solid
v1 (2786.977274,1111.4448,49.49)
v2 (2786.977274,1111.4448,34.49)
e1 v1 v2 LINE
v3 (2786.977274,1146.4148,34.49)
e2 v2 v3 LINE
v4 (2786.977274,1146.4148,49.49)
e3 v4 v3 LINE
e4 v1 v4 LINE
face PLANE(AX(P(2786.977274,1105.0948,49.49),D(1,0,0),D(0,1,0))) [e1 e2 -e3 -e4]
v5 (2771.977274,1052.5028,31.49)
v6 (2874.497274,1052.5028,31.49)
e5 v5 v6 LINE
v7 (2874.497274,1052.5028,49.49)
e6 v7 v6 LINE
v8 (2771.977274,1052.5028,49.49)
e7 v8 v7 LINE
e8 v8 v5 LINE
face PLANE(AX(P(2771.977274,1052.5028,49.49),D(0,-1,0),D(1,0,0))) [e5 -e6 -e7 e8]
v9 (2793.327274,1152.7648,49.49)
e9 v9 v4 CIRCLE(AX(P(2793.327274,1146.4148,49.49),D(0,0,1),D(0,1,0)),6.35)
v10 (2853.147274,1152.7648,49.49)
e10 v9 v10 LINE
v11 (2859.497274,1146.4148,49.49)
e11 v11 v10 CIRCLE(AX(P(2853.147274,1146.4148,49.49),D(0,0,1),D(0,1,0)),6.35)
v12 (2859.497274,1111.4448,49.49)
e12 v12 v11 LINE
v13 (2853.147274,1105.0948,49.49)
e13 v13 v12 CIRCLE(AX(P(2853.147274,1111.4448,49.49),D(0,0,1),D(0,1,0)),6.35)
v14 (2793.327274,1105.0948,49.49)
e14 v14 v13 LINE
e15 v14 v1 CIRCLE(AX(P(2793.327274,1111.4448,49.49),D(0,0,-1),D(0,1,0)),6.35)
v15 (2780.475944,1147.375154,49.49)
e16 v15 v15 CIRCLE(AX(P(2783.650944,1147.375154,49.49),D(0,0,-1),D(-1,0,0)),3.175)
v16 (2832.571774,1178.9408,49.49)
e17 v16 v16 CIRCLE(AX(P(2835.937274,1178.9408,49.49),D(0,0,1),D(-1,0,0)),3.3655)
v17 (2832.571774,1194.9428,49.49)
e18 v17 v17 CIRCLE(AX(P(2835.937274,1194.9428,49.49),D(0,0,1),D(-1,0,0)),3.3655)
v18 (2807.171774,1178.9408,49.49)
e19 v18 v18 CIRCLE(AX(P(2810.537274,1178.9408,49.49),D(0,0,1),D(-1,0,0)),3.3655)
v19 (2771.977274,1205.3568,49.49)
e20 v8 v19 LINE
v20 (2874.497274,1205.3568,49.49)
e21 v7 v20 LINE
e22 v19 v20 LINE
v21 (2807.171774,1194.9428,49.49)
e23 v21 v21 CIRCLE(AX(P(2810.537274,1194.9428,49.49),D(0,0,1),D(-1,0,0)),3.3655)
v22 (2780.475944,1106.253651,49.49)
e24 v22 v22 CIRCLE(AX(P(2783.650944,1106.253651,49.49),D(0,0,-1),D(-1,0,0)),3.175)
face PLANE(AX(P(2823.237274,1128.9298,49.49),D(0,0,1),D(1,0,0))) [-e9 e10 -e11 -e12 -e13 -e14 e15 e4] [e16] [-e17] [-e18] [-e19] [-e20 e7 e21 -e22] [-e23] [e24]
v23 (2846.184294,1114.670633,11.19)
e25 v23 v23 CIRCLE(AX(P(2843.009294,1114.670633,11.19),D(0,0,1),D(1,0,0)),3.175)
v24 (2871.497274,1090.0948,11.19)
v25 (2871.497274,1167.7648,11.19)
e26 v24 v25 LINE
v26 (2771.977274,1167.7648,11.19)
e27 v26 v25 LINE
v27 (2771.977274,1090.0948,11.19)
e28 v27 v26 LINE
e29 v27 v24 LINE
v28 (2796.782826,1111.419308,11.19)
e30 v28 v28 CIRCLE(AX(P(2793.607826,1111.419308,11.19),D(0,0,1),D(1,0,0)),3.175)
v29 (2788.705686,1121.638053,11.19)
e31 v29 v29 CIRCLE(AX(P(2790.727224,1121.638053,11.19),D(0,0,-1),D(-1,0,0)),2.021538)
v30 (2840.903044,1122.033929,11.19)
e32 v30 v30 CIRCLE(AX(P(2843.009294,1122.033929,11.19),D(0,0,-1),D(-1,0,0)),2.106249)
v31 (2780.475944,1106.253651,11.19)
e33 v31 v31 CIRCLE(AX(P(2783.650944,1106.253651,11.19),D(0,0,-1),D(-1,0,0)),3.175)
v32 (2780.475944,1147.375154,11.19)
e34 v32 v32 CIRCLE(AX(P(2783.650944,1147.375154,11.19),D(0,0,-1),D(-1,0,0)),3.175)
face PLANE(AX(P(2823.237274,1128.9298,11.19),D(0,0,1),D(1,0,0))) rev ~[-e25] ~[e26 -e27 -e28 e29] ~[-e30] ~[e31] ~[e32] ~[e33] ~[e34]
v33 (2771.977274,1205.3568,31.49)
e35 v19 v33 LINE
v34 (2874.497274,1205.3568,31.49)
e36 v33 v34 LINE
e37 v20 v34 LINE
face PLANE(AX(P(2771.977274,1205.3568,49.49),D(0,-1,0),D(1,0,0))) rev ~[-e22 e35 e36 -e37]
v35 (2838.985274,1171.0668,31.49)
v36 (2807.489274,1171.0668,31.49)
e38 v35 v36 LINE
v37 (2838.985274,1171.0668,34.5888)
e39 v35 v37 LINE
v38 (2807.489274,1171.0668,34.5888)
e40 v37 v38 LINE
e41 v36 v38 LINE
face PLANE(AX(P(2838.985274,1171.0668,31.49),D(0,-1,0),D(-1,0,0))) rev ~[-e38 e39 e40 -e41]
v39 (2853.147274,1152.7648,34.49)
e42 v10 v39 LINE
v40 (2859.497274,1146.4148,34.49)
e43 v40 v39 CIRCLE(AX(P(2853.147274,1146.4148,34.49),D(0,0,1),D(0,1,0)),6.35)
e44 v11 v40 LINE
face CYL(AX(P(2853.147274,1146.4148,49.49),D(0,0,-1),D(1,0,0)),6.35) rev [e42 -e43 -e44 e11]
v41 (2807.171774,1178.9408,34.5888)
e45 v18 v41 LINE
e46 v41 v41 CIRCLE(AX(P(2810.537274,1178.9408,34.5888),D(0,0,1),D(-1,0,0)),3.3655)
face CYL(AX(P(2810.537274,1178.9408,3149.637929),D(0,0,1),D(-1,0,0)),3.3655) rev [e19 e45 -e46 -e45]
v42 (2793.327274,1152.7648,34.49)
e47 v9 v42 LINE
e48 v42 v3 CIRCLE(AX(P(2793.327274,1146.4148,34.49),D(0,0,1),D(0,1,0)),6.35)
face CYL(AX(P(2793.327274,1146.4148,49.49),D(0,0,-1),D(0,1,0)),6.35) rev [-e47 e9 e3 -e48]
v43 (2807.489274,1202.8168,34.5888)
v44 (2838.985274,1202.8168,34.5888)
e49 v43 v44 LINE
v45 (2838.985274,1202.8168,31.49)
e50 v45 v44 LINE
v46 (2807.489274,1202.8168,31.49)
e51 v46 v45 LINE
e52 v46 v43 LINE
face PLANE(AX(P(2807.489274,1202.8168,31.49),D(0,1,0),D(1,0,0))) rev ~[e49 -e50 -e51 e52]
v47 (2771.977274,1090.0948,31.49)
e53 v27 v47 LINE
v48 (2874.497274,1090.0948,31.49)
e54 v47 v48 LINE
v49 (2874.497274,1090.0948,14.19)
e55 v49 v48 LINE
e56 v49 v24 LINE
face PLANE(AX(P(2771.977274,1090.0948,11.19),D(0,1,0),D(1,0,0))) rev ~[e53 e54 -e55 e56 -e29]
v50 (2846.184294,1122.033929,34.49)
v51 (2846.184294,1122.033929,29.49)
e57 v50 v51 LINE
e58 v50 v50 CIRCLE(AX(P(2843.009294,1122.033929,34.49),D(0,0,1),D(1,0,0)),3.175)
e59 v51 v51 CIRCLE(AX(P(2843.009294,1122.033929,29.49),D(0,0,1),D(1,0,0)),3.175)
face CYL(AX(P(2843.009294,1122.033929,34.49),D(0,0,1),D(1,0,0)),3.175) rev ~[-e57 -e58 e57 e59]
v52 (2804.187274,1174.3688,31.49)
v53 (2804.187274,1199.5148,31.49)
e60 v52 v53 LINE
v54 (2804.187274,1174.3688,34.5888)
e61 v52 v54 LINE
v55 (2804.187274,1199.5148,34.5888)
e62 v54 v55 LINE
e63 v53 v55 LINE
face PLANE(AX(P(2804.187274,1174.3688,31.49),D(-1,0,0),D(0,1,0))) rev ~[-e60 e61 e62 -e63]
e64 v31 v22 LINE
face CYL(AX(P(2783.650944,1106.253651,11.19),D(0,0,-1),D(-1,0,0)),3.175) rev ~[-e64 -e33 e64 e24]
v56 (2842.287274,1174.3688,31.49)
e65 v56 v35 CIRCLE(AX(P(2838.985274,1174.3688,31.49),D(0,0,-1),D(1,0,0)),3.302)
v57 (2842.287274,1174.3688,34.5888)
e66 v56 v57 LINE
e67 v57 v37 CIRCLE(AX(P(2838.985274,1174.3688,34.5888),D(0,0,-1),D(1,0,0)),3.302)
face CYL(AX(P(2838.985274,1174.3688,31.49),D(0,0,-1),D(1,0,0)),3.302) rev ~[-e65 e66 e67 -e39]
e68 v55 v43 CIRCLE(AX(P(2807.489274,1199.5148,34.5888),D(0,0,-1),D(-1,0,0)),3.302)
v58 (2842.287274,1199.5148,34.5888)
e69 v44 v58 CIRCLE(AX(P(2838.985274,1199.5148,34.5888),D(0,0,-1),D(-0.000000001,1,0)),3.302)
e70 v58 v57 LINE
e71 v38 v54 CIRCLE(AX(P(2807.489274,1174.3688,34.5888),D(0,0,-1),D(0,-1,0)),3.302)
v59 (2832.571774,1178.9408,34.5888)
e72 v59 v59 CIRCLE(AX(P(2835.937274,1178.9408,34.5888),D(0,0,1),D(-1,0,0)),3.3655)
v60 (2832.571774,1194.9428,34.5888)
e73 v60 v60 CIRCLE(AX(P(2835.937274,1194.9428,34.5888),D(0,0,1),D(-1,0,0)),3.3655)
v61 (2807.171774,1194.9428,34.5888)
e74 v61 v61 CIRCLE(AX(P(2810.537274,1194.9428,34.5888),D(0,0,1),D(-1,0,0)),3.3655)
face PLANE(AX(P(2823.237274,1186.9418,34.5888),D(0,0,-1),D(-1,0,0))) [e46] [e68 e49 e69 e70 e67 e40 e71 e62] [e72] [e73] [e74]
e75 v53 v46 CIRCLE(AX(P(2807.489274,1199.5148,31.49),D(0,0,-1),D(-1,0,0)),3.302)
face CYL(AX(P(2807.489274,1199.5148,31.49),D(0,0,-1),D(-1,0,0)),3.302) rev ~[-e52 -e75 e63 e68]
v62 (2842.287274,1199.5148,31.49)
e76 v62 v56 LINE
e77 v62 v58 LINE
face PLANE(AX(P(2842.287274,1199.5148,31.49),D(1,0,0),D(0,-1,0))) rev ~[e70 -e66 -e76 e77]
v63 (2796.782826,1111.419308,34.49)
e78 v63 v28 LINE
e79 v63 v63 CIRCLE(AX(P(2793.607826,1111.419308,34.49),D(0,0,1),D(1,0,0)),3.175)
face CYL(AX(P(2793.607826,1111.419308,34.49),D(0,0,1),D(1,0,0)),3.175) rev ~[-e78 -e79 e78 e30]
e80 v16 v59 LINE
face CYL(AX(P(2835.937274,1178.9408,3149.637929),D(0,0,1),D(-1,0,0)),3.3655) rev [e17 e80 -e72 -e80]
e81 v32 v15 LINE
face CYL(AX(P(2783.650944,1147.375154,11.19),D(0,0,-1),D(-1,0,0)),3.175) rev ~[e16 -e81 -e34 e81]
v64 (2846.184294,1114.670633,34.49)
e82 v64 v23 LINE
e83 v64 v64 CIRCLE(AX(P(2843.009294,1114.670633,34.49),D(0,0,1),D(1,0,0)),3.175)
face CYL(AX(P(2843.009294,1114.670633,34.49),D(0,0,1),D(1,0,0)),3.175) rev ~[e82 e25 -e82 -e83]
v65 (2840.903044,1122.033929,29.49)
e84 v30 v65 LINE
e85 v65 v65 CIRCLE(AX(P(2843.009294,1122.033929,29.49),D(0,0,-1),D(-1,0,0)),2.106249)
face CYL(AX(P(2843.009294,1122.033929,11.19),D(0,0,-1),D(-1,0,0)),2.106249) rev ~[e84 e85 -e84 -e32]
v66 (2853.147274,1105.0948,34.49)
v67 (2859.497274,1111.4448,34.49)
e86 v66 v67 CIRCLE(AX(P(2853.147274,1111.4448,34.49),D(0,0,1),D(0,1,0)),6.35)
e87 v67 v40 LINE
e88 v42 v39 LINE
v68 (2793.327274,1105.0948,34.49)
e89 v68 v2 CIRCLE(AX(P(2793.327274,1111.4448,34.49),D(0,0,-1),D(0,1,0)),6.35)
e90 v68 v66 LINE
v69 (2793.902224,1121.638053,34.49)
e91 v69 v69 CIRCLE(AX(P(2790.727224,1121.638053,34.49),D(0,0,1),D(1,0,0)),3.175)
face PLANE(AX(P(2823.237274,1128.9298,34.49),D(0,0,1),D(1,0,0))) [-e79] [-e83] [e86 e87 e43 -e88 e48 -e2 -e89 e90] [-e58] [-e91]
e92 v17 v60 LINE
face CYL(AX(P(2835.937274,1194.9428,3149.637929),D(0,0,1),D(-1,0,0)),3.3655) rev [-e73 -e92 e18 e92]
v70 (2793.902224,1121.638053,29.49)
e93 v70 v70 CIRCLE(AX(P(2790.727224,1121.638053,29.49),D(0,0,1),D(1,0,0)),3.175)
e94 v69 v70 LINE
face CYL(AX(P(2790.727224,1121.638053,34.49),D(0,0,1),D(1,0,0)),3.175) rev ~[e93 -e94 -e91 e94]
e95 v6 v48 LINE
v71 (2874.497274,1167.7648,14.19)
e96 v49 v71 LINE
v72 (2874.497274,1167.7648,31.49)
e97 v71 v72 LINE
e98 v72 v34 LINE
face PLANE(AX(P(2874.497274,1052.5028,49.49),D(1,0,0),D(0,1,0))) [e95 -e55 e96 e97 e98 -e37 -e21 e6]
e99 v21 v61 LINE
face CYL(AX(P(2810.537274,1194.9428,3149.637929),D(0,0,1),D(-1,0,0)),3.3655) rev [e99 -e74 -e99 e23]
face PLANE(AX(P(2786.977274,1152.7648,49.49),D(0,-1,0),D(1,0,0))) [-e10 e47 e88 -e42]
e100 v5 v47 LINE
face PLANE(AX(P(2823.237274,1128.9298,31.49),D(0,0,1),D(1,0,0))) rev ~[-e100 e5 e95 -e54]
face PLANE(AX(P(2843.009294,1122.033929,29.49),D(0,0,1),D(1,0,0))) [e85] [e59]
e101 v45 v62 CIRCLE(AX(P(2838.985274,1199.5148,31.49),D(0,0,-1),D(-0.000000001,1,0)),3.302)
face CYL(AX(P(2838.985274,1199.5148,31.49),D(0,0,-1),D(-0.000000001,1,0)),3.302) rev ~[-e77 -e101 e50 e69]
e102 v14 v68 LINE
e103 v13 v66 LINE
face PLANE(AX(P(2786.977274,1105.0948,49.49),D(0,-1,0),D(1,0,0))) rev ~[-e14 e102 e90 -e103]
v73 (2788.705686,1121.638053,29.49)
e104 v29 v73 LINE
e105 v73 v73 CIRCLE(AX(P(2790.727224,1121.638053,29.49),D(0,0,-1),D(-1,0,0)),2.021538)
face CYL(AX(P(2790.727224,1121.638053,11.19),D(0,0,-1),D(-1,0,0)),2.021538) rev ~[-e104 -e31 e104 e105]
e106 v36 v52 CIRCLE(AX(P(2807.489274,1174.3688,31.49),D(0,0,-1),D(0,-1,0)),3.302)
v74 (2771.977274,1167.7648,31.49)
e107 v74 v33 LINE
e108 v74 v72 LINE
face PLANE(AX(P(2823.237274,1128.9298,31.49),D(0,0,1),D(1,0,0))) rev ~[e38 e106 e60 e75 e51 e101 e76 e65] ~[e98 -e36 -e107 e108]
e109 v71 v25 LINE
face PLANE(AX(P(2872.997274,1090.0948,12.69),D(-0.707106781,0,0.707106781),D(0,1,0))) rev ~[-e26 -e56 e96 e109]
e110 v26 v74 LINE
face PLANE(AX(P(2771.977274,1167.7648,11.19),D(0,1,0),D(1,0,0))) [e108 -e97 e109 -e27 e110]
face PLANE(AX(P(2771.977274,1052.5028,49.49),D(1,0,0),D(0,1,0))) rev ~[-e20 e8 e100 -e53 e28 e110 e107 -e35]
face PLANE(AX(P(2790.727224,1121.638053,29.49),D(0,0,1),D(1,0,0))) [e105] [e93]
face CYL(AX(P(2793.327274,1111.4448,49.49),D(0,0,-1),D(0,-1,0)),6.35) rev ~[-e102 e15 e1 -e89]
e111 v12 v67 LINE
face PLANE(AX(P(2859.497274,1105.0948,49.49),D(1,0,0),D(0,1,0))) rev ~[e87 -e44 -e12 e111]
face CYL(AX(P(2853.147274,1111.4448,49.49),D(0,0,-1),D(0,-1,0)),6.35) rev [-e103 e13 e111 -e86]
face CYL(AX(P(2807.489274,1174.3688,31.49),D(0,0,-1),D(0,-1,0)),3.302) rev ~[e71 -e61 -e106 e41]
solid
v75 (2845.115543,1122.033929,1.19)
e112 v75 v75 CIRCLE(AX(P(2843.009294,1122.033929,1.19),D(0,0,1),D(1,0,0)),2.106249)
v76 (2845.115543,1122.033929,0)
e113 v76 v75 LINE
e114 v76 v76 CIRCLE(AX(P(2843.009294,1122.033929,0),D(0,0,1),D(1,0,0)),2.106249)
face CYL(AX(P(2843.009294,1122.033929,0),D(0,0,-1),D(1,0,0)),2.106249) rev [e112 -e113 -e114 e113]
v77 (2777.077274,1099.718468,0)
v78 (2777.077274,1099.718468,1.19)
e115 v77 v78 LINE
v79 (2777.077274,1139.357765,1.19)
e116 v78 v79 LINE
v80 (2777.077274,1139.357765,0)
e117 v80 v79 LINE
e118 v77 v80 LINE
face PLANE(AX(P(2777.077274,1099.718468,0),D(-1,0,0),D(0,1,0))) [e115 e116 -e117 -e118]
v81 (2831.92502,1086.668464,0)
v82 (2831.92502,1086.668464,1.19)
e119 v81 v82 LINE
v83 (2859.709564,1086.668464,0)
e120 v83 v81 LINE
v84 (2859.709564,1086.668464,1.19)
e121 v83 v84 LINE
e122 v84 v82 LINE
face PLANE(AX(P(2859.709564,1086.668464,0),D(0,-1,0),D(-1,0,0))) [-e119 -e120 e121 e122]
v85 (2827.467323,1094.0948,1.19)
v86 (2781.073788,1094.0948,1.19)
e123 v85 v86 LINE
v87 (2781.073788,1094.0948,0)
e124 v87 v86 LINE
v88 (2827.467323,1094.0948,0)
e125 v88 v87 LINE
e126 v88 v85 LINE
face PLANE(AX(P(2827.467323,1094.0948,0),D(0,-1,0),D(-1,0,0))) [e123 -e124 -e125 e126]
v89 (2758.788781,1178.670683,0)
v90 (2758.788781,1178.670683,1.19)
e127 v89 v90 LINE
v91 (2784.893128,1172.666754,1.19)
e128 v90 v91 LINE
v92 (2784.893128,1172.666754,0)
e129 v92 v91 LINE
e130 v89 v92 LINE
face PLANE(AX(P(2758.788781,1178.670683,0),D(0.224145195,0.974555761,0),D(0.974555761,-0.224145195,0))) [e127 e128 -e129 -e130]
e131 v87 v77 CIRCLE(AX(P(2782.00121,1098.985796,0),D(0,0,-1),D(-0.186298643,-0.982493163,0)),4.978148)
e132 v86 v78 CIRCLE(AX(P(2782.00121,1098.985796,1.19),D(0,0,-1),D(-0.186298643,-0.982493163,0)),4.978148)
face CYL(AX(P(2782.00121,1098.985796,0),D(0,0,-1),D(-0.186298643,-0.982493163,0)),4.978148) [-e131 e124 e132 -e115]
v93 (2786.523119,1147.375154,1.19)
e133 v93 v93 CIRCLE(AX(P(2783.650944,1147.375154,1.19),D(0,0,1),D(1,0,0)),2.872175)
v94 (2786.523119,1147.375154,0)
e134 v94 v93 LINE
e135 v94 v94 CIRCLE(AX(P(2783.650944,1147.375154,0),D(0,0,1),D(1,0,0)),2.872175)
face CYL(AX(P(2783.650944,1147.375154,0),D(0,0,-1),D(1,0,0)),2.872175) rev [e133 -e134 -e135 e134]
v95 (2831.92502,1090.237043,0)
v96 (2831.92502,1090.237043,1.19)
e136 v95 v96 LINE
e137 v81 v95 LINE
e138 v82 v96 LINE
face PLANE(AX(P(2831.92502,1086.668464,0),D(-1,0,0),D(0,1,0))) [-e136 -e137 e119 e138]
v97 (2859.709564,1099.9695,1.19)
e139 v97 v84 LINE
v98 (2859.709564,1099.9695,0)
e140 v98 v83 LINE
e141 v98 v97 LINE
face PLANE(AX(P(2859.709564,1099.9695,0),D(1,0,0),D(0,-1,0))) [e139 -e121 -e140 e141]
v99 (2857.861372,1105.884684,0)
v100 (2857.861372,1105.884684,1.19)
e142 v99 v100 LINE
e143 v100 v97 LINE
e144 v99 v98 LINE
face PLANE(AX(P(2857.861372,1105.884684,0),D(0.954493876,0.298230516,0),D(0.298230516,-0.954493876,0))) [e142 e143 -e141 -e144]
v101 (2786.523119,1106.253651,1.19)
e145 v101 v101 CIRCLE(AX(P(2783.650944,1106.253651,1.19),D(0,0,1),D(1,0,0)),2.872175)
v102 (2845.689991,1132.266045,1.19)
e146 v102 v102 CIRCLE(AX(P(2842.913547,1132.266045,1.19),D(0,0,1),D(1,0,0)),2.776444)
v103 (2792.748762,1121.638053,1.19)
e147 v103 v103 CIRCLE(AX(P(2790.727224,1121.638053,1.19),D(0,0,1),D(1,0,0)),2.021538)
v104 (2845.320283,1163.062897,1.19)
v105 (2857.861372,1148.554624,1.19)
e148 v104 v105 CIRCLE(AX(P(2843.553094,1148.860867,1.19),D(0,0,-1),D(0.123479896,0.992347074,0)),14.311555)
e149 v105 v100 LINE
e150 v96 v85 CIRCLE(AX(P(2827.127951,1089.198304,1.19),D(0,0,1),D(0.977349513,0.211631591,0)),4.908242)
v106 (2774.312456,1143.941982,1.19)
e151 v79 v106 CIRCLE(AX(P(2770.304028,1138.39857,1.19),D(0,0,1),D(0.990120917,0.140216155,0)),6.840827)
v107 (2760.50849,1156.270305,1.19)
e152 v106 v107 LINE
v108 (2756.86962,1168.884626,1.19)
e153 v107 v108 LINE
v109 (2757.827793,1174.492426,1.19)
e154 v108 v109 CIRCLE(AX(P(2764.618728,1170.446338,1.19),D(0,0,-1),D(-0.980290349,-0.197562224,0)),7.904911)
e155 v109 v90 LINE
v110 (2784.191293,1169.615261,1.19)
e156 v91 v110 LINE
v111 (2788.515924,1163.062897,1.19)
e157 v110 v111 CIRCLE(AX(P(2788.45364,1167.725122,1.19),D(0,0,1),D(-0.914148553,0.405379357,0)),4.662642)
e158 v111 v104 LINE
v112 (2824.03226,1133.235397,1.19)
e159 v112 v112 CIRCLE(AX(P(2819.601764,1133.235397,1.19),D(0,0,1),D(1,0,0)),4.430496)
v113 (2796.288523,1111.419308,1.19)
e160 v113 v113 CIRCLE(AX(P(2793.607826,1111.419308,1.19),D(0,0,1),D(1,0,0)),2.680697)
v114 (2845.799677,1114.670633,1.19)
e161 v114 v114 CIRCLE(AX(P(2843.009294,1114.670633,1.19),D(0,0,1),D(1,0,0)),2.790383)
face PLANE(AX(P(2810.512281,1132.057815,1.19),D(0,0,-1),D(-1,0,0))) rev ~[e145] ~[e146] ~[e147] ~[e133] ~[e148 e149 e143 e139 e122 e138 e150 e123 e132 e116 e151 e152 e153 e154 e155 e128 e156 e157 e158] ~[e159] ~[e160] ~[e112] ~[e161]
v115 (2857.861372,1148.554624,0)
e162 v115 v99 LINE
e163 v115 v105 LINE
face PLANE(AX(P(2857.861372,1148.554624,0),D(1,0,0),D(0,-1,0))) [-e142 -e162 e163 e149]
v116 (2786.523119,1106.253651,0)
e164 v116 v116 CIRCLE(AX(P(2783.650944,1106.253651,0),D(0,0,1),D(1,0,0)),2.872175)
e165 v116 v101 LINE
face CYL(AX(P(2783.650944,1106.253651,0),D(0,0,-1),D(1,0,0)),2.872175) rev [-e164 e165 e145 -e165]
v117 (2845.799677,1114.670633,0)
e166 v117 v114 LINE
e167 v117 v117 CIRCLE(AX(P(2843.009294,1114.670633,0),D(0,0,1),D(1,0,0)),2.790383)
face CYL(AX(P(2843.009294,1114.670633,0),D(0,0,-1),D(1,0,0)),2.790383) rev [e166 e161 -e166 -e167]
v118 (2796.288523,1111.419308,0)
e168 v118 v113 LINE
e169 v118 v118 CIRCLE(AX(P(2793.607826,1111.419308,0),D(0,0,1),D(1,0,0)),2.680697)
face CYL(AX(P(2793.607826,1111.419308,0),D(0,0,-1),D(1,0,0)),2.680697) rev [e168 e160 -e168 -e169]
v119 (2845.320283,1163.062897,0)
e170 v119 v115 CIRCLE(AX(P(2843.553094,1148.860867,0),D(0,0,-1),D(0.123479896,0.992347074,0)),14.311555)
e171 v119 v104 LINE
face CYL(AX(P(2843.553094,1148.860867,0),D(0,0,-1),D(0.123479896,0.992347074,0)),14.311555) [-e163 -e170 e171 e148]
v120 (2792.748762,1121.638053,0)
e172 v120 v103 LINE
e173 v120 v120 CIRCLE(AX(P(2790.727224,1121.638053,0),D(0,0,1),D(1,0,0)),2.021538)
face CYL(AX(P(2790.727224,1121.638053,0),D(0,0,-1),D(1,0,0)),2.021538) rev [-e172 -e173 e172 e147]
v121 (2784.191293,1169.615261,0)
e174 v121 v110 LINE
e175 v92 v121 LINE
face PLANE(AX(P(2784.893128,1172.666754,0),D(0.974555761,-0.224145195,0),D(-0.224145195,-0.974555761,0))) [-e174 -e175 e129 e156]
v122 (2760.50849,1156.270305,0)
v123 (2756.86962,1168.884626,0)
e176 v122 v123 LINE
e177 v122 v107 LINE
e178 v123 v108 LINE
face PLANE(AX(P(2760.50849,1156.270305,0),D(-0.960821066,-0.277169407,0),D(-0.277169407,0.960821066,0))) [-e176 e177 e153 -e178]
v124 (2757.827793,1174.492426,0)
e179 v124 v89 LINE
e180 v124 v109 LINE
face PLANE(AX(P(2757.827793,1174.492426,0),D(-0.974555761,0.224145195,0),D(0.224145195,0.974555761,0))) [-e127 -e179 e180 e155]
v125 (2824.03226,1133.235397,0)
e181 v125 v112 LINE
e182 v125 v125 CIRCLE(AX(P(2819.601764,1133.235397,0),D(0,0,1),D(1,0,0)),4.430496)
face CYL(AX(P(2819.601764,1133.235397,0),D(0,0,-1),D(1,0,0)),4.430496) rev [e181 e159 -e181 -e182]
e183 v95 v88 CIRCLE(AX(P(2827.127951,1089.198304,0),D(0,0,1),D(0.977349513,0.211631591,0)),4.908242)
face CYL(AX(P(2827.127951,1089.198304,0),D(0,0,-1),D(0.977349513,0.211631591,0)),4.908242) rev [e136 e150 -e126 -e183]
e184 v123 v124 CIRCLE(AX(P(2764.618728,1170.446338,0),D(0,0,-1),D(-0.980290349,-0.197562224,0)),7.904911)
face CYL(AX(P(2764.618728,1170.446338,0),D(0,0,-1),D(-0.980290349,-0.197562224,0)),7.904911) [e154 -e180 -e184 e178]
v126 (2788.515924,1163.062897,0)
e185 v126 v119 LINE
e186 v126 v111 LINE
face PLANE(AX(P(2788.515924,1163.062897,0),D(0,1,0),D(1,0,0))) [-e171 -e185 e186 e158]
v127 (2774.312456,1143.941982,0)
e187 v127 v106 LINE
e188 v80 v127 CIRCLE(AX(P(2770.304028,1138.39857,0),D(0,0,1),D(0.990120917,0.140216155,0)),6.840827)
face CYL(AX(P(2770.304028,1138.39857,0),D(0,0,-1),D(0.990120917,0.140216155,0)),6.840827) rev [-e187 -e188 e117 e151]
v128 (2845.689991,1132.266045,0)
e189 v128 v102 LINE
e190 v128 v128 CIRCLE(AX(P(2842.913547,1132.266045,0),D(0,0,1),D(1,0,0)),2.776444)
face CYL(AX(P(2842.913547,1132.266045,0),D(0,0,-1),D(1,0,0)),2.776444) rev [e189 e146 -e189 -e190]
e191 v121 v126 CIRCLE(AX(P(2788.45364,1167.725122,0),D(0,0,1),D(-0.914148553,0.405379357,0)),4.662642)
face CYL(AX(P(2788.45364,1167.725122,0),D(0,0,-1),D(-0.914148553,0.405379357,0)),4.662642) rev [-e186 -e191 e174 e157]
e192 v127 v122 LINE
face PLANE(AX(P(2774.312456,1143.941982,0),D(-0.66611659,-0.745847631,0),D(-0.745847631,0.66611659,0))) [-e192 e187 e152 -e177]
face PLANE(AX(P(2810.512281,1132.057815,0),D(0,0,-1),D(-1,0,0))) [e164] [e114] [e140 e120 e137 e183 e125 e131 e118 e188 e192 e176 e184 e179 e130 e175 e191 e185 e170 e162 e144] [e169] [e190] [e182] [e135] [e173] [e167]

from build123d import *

# Parameters (mm, degrees)
CROQUIS1_R                 = 4.430496459
CROQUIS1_R_2               = 2.021537648
CROQUIS1_R_3               = 2.872174668
CROQUIS1_R_4               = 2.680697474
CROQUIS1_R_5               = 2.776444448
CROQUIS1_R_6               = 2.106249137
CROQUIS1_R_7               = 2.790383016
SALIENTE_EXTRUIR1_DEPTH    = 1.19
CROQUIS7_W                 = 102.52
CROQUIS7_H                 = 77.67
SALIENTE_EXTRUIR2_DEPTH    = 38.3
CROQUIS9_W                 = 102.52
CROQUIS9_H                 = 152.854
SALIENTE_EXTRUIR3_DEPTH    = 18
CROQUIS10_W                = 72.52
CROQUIS10_H                = 47.67
CORTAR_EXTRUIR2_DEPTH      = 15
CROQUIS8_R                 = 2.021537648
CROQUIS8_R_2               = 2.680697474
CROQUIS8_R_3               = 2.106249137
CROQUIS8_R_4               = 2.790383016
CORTAR_EXTRUIR3_DEPTH      = 3118.224162973
REDONDEO1_R                = 6.35
CROQUIS8_7_R               = 3.175
CORTAR_EXTRUIR4_DEPTH      = 38.3
CROQUIS11_R                = 3.175
CORTAR_EXTRUIR5_DEPTH      = 5
CHAFL_N1_SIZE              = 3
CORTAR_EXTRUIR6_DEPTH      = 3118.147929169
CORTAR_EXTRUIR6_DEPTH_BACK = 3118.147929169
CROQUIS12_R                = 3.3655
CORTAR_EXTRUIR7_DEPTH      = 3.0988
CROQUIS11_5_R              = 3.175
CORTAR_EXTRUIR8_DEPTH      = 3118.179679185


with BuildPart() as part:
    # Croquis1 → Saliente-Extruir1 (new body)
    with BuildSketch(Plane.XY):
        with BuildLine():
            Line((2788.515923591, 1163.062896503), (2845.320282862, 1163.062896503))
            ThreePointArc((2845.320282862, 1163.062896503), (2854.380265752, 1158.219977336), (2857.861371877, 1148.554623946))
            Line((2857.861371877, 1148.554623946), (2857.861371877, 1105.884683704))
            Line((2857.861371877, 1105.884683704), (2859.709564321, 1099.969499723))
            Line((2859.709564321, 1099.969499723), (2859.709564321, 1086.668463787))
            Line((2859.709564321, 1086.668463787), (2831.925019811, 1086.668463787))
            Line((2831.925019811, 1086.668463787), (2831.925019811, 1090.237043102))
            ThreePointArc((2831.925019811, 1090.237043102), (2830.339855276, 1092.909707682), (2827.46732338, 1094.094799688))
            Line((2827.46732338, 1094.094799688), (2781.073788136, 1094.094799688))
            ThreePointArc((2781.073788136, 1094.094799688), (2777.943377157, 1096.10205762), (2777.077273901, 1099.718467781))
            Line((2777.077273901, 1099.718467781), (2777.077273901, 1139.357764533))
            ThreePointArc((2777.077273901, 1139.357764533), (2776.16191908, 1141.931561181), (2774.31245647, 1143.941981956))
            Line((2774.31245647, 1143.941981956), (2760.508490421, 1156.27030536))
            Line((2760.508490421, 1156.27030536), (2756.869619555, 1168.884626052))
            ThreePointArc((2756.869619555, 1168.884626052), (2756.826740412, 1171.777711215), (2757.827792947, 1174.492425601))
            Line((2757.827792947, 1174.492425601), (2758.788780948, 1178.67068333))
            Line((2758.788780948, 1178.67068333), (2784.893128388, 1172.66675387))
            Line((2784.893128388, 1172.66675387), (2784.19129322, 1169.615260811))
            ThreePointArc((2784.19129322, 1169.615260811), (2784.56217485, 1165.156713392), (2788.515923591, 1163.062896503))
        make_face()
        with Locations((2819.601763615, 1133.235396685)):
            Circle(CROQUIS1_R, mode=Mode.SUBTRACT)
        with Locations((2790.727223865, 1121.638053324)):
            Circle(CROQUIS1_R_2, mode=Mode.SUBTRACT)
        with Locations((2783.65094449, 1147.375154376)):
            Circle(CROQUIS1_R_3, mode=Mode.SUBTRACT)
        with Locations((2793.607825607, 1111.419307874)):
            Circle(CROQUIS1_R_4, mode=Mode.SUBTRACT)
        with Locations((2783.65094449, 1106.253651095)):
            Circle(CROQUIS1_R_3, mode=Mode.SUBTRACT)
        with Locations((2842.913546585, 1132.266044758)):
            Circle(CROQUIS1_R_5, mode=Mode.SUBTRACT)
        with Locations((2843.009293559, 1122.033928625)):
            Circle(CROQUIS1_R_6, mode=Mode.SUBTRACT)
        with Locations((2843.009293559, 1114.670632569)):
            Circle(CROQUIS1_R_7, mode=Mode.SUBTRACT)
    extrude(amount=SALIENTE_EXTRUIR1_DEPTH)


with BuildPart() as body_2:
    # Croquis7 → Saliente-Extruir2 (new body)
    with BuildSketch(Plane.XY.offset(11.19)):
        with Locations((2823.237273901, 1128.929799688)):
            Rectangle(CROQUIS7_W, CROQUIS7_H)
    extrude(amount=SALIENTE_EXTRUIR2_DEPTH)

    # Croquis9 → Saliente-Extruir3 (add)
    with BuildSketch(Plane.XY.offset(49.49)):
        with Locations((2823.237273901, 1128.929799688)):
            Rectangle(CROQUIS9_W, CROQUIS9_H)
    extrude(amount=-SALIENTE_EXTRUIR3_DEPTH)

    # Croquis10 → Cortar-Extruir2 (cut)
    with BuildSketch(Plane.XY.offset(49.49)):
        with Locations((2823.237273901, 1128.929799688)):
            Rectangle(CROQUIS10_W, CROQUIS10_H)
    extrude(amount=-CORTAR_EXTRUIR2_DEPTH, mode=Mode.SUBTRACT)

    # Croquis8 → Cortar-Extruir3 (cut, through all)
    with BuildSketch(Plane(origin=(0, 0, 11.19), x_dir=(-1, 0, 0), z_dir=(0, 0, -1))):
        with Locations((-2790.727223865, 1121.638053324)):
            Circle(CROQUIS8_R)
        with Locations((-2793.607825607, 1111.419307874)):
            Circle(CROQUIS8_R_2)
        with Locations((-2843.009293559, 1122.033928625)):
            Circle(CROQUIS8_R_3)
        with Locations((-2843.009293559, 1114.670632569)):
            Circle(CROQUIS8_R_4)
    extrude(amount=-CORTAR_EXTRUIR3_DEPTH, mode=Mode.SUBTRACT)

    # Redondeo1
    redondeo1_edges = [body_2.edges().sort_by_distance(p)[0] for p in [
        (2859.497273901, 1152.764799688, 41.99),
        (2859.497273901, 1105.094799688, 41.99),
        (2786.977273901, 1105.094799688, 41.99),
        (2786.977273901, 1152.764799688, 41.99),
    ]]
    fillet(redondeo1_edges, radius=REDONDEO1_R)

    # Croquis8<7> → Cortar-Extruir4 (cut)
    with BuildSketch(Plane(origin=(0, 0, 11.19), x_dir=(-1, 0, 0), z_dir=(0, 0, -1))):
        with Locations((-2783.65094449, 1106.253651095)):
            Circle(CROQUIS8_7_R)
        with Locations((-2783.65094449, 1147.375154376)):
            Circle(CROQUIS8_7_R)
    extrude(amount=-CORTAR_EXTRUIR4_DEPTH, mode=Mode.SUBTRACT)

    # Croquis11 → Cortar-Extruir5 (cut)
    with BuildSketch(Plane.XY.offset(34.49)):
        with Locations((2843.009293559, 1122.033928625)):
            Circle(CROQUIS11_R)
        with Locations((2790.727223865, 1121.638053324)):
            Circle(CROQUIS11_R)
    extrude(amount=-CORTAR_EXTRUIR5_DEPTH, mode=Mode.SUBTRACT)

    # Chaflán1
    chafl_n1_edges = [body_2.edges().sort_by_distance(p)[0] for p in [
        (2874.497273901, 1128.929799688, 11.19),
    ]]
    chamfer(chafl_n1_edges, length=CHAFL_N1_SIZE)

    # Croquis12 → Cortar-Extruir6 (cut, two sides: drawn at the far end of the back side and taken through both)
    with BuildSketch(Plane(origin=(0, 0, 31.49), x_dir=(-1, 0, 0), z_dir=(0, 0, -1)).offset(-CORTAR_EXTRUIR6_DEPTH_BACK)):
        with Locations((-2835.937273901, 1194.942799688)):
            Circle(CROQUIS12_R)
        with Locations((-2835.937273901, 1178.940799688)):
            Circle(CROQUIS12_R)
        with Locations((-2810.537273901, 1178.940799688)):
            Circle(CROQUIS12_R)
        with Locations((-2810.537273901, 1194.942799688)):
            Circle(CROQUIS12_R)
    extrude(amount=CORTAR_EXTRUIR6_DEPTH + CORTAR_EXTRUIR6_DEPTH_BACK, mode=Mode.SUBTRACT)

    # Croquis13 → Cortar-Extruir7 (cut)
    with BuildSketch(Plane(origin=(0, 0, 31.49), x_dir=(-1, 0, 0), z_dir=(0, 0, -1))):
        with BuildLine():
            Line((-2807.489273901, 1202.816799688), (-2838.985273901, 1202.816799688))
            ThreePointArc((-2838.985273901, 1202.816799688), (-2841.320140493, 1201.84966628), (-2842.287273901, 1199.514799688))
            Line((-2842.287273901, 1199.514799688), (-2842.287273901, 1174.368799688))
            ThreePointArc((-2842.287273901, 1174.368799688), (-2841.320140493, 1172.033933097), (-2838.985273901, 1171.066799688))
            Line((-2838.985273901, 1171.066799688), (-2807.489273901, 1171.066799688))
            ThreePointArc((-2807.489273901, 1171.066799688), (-2805.15440731, 1172.033933097), (-2804.187273901, 1174.368799688))
            Line((-2804.187273901, 1174.368799688), (-2804.187273901, 1199.514799688))
            ThreePointArc((-2804.187273901, 1199.514799688), (-2805.15440731, 1201.84966628), (-2807.489273901, 1202.816799688))
        make_face()
    extrude(amount=-CORTAR_EXTRUIR7_DEPTH, mode=Mode.SUBTRACT)

    # Croquis11<5> → Cortar-Extruir8 (cut, through all)
    with BuildSketch(Plane.XY.offset(34.49)):
        with Locations((2843.009293559, 1114.670632569)):
            Circle(CROQUIS11_5_R)
        with Locations((2793.607825607, 1111.419307874)):
            Circle(CROQUIS11_5_R)
    extrude(amount=-CORTAR_EXTRUIR8_DEPTH, mode=Mode.SUBTRACT)


solid = Compound([part.part, body_2.part])
